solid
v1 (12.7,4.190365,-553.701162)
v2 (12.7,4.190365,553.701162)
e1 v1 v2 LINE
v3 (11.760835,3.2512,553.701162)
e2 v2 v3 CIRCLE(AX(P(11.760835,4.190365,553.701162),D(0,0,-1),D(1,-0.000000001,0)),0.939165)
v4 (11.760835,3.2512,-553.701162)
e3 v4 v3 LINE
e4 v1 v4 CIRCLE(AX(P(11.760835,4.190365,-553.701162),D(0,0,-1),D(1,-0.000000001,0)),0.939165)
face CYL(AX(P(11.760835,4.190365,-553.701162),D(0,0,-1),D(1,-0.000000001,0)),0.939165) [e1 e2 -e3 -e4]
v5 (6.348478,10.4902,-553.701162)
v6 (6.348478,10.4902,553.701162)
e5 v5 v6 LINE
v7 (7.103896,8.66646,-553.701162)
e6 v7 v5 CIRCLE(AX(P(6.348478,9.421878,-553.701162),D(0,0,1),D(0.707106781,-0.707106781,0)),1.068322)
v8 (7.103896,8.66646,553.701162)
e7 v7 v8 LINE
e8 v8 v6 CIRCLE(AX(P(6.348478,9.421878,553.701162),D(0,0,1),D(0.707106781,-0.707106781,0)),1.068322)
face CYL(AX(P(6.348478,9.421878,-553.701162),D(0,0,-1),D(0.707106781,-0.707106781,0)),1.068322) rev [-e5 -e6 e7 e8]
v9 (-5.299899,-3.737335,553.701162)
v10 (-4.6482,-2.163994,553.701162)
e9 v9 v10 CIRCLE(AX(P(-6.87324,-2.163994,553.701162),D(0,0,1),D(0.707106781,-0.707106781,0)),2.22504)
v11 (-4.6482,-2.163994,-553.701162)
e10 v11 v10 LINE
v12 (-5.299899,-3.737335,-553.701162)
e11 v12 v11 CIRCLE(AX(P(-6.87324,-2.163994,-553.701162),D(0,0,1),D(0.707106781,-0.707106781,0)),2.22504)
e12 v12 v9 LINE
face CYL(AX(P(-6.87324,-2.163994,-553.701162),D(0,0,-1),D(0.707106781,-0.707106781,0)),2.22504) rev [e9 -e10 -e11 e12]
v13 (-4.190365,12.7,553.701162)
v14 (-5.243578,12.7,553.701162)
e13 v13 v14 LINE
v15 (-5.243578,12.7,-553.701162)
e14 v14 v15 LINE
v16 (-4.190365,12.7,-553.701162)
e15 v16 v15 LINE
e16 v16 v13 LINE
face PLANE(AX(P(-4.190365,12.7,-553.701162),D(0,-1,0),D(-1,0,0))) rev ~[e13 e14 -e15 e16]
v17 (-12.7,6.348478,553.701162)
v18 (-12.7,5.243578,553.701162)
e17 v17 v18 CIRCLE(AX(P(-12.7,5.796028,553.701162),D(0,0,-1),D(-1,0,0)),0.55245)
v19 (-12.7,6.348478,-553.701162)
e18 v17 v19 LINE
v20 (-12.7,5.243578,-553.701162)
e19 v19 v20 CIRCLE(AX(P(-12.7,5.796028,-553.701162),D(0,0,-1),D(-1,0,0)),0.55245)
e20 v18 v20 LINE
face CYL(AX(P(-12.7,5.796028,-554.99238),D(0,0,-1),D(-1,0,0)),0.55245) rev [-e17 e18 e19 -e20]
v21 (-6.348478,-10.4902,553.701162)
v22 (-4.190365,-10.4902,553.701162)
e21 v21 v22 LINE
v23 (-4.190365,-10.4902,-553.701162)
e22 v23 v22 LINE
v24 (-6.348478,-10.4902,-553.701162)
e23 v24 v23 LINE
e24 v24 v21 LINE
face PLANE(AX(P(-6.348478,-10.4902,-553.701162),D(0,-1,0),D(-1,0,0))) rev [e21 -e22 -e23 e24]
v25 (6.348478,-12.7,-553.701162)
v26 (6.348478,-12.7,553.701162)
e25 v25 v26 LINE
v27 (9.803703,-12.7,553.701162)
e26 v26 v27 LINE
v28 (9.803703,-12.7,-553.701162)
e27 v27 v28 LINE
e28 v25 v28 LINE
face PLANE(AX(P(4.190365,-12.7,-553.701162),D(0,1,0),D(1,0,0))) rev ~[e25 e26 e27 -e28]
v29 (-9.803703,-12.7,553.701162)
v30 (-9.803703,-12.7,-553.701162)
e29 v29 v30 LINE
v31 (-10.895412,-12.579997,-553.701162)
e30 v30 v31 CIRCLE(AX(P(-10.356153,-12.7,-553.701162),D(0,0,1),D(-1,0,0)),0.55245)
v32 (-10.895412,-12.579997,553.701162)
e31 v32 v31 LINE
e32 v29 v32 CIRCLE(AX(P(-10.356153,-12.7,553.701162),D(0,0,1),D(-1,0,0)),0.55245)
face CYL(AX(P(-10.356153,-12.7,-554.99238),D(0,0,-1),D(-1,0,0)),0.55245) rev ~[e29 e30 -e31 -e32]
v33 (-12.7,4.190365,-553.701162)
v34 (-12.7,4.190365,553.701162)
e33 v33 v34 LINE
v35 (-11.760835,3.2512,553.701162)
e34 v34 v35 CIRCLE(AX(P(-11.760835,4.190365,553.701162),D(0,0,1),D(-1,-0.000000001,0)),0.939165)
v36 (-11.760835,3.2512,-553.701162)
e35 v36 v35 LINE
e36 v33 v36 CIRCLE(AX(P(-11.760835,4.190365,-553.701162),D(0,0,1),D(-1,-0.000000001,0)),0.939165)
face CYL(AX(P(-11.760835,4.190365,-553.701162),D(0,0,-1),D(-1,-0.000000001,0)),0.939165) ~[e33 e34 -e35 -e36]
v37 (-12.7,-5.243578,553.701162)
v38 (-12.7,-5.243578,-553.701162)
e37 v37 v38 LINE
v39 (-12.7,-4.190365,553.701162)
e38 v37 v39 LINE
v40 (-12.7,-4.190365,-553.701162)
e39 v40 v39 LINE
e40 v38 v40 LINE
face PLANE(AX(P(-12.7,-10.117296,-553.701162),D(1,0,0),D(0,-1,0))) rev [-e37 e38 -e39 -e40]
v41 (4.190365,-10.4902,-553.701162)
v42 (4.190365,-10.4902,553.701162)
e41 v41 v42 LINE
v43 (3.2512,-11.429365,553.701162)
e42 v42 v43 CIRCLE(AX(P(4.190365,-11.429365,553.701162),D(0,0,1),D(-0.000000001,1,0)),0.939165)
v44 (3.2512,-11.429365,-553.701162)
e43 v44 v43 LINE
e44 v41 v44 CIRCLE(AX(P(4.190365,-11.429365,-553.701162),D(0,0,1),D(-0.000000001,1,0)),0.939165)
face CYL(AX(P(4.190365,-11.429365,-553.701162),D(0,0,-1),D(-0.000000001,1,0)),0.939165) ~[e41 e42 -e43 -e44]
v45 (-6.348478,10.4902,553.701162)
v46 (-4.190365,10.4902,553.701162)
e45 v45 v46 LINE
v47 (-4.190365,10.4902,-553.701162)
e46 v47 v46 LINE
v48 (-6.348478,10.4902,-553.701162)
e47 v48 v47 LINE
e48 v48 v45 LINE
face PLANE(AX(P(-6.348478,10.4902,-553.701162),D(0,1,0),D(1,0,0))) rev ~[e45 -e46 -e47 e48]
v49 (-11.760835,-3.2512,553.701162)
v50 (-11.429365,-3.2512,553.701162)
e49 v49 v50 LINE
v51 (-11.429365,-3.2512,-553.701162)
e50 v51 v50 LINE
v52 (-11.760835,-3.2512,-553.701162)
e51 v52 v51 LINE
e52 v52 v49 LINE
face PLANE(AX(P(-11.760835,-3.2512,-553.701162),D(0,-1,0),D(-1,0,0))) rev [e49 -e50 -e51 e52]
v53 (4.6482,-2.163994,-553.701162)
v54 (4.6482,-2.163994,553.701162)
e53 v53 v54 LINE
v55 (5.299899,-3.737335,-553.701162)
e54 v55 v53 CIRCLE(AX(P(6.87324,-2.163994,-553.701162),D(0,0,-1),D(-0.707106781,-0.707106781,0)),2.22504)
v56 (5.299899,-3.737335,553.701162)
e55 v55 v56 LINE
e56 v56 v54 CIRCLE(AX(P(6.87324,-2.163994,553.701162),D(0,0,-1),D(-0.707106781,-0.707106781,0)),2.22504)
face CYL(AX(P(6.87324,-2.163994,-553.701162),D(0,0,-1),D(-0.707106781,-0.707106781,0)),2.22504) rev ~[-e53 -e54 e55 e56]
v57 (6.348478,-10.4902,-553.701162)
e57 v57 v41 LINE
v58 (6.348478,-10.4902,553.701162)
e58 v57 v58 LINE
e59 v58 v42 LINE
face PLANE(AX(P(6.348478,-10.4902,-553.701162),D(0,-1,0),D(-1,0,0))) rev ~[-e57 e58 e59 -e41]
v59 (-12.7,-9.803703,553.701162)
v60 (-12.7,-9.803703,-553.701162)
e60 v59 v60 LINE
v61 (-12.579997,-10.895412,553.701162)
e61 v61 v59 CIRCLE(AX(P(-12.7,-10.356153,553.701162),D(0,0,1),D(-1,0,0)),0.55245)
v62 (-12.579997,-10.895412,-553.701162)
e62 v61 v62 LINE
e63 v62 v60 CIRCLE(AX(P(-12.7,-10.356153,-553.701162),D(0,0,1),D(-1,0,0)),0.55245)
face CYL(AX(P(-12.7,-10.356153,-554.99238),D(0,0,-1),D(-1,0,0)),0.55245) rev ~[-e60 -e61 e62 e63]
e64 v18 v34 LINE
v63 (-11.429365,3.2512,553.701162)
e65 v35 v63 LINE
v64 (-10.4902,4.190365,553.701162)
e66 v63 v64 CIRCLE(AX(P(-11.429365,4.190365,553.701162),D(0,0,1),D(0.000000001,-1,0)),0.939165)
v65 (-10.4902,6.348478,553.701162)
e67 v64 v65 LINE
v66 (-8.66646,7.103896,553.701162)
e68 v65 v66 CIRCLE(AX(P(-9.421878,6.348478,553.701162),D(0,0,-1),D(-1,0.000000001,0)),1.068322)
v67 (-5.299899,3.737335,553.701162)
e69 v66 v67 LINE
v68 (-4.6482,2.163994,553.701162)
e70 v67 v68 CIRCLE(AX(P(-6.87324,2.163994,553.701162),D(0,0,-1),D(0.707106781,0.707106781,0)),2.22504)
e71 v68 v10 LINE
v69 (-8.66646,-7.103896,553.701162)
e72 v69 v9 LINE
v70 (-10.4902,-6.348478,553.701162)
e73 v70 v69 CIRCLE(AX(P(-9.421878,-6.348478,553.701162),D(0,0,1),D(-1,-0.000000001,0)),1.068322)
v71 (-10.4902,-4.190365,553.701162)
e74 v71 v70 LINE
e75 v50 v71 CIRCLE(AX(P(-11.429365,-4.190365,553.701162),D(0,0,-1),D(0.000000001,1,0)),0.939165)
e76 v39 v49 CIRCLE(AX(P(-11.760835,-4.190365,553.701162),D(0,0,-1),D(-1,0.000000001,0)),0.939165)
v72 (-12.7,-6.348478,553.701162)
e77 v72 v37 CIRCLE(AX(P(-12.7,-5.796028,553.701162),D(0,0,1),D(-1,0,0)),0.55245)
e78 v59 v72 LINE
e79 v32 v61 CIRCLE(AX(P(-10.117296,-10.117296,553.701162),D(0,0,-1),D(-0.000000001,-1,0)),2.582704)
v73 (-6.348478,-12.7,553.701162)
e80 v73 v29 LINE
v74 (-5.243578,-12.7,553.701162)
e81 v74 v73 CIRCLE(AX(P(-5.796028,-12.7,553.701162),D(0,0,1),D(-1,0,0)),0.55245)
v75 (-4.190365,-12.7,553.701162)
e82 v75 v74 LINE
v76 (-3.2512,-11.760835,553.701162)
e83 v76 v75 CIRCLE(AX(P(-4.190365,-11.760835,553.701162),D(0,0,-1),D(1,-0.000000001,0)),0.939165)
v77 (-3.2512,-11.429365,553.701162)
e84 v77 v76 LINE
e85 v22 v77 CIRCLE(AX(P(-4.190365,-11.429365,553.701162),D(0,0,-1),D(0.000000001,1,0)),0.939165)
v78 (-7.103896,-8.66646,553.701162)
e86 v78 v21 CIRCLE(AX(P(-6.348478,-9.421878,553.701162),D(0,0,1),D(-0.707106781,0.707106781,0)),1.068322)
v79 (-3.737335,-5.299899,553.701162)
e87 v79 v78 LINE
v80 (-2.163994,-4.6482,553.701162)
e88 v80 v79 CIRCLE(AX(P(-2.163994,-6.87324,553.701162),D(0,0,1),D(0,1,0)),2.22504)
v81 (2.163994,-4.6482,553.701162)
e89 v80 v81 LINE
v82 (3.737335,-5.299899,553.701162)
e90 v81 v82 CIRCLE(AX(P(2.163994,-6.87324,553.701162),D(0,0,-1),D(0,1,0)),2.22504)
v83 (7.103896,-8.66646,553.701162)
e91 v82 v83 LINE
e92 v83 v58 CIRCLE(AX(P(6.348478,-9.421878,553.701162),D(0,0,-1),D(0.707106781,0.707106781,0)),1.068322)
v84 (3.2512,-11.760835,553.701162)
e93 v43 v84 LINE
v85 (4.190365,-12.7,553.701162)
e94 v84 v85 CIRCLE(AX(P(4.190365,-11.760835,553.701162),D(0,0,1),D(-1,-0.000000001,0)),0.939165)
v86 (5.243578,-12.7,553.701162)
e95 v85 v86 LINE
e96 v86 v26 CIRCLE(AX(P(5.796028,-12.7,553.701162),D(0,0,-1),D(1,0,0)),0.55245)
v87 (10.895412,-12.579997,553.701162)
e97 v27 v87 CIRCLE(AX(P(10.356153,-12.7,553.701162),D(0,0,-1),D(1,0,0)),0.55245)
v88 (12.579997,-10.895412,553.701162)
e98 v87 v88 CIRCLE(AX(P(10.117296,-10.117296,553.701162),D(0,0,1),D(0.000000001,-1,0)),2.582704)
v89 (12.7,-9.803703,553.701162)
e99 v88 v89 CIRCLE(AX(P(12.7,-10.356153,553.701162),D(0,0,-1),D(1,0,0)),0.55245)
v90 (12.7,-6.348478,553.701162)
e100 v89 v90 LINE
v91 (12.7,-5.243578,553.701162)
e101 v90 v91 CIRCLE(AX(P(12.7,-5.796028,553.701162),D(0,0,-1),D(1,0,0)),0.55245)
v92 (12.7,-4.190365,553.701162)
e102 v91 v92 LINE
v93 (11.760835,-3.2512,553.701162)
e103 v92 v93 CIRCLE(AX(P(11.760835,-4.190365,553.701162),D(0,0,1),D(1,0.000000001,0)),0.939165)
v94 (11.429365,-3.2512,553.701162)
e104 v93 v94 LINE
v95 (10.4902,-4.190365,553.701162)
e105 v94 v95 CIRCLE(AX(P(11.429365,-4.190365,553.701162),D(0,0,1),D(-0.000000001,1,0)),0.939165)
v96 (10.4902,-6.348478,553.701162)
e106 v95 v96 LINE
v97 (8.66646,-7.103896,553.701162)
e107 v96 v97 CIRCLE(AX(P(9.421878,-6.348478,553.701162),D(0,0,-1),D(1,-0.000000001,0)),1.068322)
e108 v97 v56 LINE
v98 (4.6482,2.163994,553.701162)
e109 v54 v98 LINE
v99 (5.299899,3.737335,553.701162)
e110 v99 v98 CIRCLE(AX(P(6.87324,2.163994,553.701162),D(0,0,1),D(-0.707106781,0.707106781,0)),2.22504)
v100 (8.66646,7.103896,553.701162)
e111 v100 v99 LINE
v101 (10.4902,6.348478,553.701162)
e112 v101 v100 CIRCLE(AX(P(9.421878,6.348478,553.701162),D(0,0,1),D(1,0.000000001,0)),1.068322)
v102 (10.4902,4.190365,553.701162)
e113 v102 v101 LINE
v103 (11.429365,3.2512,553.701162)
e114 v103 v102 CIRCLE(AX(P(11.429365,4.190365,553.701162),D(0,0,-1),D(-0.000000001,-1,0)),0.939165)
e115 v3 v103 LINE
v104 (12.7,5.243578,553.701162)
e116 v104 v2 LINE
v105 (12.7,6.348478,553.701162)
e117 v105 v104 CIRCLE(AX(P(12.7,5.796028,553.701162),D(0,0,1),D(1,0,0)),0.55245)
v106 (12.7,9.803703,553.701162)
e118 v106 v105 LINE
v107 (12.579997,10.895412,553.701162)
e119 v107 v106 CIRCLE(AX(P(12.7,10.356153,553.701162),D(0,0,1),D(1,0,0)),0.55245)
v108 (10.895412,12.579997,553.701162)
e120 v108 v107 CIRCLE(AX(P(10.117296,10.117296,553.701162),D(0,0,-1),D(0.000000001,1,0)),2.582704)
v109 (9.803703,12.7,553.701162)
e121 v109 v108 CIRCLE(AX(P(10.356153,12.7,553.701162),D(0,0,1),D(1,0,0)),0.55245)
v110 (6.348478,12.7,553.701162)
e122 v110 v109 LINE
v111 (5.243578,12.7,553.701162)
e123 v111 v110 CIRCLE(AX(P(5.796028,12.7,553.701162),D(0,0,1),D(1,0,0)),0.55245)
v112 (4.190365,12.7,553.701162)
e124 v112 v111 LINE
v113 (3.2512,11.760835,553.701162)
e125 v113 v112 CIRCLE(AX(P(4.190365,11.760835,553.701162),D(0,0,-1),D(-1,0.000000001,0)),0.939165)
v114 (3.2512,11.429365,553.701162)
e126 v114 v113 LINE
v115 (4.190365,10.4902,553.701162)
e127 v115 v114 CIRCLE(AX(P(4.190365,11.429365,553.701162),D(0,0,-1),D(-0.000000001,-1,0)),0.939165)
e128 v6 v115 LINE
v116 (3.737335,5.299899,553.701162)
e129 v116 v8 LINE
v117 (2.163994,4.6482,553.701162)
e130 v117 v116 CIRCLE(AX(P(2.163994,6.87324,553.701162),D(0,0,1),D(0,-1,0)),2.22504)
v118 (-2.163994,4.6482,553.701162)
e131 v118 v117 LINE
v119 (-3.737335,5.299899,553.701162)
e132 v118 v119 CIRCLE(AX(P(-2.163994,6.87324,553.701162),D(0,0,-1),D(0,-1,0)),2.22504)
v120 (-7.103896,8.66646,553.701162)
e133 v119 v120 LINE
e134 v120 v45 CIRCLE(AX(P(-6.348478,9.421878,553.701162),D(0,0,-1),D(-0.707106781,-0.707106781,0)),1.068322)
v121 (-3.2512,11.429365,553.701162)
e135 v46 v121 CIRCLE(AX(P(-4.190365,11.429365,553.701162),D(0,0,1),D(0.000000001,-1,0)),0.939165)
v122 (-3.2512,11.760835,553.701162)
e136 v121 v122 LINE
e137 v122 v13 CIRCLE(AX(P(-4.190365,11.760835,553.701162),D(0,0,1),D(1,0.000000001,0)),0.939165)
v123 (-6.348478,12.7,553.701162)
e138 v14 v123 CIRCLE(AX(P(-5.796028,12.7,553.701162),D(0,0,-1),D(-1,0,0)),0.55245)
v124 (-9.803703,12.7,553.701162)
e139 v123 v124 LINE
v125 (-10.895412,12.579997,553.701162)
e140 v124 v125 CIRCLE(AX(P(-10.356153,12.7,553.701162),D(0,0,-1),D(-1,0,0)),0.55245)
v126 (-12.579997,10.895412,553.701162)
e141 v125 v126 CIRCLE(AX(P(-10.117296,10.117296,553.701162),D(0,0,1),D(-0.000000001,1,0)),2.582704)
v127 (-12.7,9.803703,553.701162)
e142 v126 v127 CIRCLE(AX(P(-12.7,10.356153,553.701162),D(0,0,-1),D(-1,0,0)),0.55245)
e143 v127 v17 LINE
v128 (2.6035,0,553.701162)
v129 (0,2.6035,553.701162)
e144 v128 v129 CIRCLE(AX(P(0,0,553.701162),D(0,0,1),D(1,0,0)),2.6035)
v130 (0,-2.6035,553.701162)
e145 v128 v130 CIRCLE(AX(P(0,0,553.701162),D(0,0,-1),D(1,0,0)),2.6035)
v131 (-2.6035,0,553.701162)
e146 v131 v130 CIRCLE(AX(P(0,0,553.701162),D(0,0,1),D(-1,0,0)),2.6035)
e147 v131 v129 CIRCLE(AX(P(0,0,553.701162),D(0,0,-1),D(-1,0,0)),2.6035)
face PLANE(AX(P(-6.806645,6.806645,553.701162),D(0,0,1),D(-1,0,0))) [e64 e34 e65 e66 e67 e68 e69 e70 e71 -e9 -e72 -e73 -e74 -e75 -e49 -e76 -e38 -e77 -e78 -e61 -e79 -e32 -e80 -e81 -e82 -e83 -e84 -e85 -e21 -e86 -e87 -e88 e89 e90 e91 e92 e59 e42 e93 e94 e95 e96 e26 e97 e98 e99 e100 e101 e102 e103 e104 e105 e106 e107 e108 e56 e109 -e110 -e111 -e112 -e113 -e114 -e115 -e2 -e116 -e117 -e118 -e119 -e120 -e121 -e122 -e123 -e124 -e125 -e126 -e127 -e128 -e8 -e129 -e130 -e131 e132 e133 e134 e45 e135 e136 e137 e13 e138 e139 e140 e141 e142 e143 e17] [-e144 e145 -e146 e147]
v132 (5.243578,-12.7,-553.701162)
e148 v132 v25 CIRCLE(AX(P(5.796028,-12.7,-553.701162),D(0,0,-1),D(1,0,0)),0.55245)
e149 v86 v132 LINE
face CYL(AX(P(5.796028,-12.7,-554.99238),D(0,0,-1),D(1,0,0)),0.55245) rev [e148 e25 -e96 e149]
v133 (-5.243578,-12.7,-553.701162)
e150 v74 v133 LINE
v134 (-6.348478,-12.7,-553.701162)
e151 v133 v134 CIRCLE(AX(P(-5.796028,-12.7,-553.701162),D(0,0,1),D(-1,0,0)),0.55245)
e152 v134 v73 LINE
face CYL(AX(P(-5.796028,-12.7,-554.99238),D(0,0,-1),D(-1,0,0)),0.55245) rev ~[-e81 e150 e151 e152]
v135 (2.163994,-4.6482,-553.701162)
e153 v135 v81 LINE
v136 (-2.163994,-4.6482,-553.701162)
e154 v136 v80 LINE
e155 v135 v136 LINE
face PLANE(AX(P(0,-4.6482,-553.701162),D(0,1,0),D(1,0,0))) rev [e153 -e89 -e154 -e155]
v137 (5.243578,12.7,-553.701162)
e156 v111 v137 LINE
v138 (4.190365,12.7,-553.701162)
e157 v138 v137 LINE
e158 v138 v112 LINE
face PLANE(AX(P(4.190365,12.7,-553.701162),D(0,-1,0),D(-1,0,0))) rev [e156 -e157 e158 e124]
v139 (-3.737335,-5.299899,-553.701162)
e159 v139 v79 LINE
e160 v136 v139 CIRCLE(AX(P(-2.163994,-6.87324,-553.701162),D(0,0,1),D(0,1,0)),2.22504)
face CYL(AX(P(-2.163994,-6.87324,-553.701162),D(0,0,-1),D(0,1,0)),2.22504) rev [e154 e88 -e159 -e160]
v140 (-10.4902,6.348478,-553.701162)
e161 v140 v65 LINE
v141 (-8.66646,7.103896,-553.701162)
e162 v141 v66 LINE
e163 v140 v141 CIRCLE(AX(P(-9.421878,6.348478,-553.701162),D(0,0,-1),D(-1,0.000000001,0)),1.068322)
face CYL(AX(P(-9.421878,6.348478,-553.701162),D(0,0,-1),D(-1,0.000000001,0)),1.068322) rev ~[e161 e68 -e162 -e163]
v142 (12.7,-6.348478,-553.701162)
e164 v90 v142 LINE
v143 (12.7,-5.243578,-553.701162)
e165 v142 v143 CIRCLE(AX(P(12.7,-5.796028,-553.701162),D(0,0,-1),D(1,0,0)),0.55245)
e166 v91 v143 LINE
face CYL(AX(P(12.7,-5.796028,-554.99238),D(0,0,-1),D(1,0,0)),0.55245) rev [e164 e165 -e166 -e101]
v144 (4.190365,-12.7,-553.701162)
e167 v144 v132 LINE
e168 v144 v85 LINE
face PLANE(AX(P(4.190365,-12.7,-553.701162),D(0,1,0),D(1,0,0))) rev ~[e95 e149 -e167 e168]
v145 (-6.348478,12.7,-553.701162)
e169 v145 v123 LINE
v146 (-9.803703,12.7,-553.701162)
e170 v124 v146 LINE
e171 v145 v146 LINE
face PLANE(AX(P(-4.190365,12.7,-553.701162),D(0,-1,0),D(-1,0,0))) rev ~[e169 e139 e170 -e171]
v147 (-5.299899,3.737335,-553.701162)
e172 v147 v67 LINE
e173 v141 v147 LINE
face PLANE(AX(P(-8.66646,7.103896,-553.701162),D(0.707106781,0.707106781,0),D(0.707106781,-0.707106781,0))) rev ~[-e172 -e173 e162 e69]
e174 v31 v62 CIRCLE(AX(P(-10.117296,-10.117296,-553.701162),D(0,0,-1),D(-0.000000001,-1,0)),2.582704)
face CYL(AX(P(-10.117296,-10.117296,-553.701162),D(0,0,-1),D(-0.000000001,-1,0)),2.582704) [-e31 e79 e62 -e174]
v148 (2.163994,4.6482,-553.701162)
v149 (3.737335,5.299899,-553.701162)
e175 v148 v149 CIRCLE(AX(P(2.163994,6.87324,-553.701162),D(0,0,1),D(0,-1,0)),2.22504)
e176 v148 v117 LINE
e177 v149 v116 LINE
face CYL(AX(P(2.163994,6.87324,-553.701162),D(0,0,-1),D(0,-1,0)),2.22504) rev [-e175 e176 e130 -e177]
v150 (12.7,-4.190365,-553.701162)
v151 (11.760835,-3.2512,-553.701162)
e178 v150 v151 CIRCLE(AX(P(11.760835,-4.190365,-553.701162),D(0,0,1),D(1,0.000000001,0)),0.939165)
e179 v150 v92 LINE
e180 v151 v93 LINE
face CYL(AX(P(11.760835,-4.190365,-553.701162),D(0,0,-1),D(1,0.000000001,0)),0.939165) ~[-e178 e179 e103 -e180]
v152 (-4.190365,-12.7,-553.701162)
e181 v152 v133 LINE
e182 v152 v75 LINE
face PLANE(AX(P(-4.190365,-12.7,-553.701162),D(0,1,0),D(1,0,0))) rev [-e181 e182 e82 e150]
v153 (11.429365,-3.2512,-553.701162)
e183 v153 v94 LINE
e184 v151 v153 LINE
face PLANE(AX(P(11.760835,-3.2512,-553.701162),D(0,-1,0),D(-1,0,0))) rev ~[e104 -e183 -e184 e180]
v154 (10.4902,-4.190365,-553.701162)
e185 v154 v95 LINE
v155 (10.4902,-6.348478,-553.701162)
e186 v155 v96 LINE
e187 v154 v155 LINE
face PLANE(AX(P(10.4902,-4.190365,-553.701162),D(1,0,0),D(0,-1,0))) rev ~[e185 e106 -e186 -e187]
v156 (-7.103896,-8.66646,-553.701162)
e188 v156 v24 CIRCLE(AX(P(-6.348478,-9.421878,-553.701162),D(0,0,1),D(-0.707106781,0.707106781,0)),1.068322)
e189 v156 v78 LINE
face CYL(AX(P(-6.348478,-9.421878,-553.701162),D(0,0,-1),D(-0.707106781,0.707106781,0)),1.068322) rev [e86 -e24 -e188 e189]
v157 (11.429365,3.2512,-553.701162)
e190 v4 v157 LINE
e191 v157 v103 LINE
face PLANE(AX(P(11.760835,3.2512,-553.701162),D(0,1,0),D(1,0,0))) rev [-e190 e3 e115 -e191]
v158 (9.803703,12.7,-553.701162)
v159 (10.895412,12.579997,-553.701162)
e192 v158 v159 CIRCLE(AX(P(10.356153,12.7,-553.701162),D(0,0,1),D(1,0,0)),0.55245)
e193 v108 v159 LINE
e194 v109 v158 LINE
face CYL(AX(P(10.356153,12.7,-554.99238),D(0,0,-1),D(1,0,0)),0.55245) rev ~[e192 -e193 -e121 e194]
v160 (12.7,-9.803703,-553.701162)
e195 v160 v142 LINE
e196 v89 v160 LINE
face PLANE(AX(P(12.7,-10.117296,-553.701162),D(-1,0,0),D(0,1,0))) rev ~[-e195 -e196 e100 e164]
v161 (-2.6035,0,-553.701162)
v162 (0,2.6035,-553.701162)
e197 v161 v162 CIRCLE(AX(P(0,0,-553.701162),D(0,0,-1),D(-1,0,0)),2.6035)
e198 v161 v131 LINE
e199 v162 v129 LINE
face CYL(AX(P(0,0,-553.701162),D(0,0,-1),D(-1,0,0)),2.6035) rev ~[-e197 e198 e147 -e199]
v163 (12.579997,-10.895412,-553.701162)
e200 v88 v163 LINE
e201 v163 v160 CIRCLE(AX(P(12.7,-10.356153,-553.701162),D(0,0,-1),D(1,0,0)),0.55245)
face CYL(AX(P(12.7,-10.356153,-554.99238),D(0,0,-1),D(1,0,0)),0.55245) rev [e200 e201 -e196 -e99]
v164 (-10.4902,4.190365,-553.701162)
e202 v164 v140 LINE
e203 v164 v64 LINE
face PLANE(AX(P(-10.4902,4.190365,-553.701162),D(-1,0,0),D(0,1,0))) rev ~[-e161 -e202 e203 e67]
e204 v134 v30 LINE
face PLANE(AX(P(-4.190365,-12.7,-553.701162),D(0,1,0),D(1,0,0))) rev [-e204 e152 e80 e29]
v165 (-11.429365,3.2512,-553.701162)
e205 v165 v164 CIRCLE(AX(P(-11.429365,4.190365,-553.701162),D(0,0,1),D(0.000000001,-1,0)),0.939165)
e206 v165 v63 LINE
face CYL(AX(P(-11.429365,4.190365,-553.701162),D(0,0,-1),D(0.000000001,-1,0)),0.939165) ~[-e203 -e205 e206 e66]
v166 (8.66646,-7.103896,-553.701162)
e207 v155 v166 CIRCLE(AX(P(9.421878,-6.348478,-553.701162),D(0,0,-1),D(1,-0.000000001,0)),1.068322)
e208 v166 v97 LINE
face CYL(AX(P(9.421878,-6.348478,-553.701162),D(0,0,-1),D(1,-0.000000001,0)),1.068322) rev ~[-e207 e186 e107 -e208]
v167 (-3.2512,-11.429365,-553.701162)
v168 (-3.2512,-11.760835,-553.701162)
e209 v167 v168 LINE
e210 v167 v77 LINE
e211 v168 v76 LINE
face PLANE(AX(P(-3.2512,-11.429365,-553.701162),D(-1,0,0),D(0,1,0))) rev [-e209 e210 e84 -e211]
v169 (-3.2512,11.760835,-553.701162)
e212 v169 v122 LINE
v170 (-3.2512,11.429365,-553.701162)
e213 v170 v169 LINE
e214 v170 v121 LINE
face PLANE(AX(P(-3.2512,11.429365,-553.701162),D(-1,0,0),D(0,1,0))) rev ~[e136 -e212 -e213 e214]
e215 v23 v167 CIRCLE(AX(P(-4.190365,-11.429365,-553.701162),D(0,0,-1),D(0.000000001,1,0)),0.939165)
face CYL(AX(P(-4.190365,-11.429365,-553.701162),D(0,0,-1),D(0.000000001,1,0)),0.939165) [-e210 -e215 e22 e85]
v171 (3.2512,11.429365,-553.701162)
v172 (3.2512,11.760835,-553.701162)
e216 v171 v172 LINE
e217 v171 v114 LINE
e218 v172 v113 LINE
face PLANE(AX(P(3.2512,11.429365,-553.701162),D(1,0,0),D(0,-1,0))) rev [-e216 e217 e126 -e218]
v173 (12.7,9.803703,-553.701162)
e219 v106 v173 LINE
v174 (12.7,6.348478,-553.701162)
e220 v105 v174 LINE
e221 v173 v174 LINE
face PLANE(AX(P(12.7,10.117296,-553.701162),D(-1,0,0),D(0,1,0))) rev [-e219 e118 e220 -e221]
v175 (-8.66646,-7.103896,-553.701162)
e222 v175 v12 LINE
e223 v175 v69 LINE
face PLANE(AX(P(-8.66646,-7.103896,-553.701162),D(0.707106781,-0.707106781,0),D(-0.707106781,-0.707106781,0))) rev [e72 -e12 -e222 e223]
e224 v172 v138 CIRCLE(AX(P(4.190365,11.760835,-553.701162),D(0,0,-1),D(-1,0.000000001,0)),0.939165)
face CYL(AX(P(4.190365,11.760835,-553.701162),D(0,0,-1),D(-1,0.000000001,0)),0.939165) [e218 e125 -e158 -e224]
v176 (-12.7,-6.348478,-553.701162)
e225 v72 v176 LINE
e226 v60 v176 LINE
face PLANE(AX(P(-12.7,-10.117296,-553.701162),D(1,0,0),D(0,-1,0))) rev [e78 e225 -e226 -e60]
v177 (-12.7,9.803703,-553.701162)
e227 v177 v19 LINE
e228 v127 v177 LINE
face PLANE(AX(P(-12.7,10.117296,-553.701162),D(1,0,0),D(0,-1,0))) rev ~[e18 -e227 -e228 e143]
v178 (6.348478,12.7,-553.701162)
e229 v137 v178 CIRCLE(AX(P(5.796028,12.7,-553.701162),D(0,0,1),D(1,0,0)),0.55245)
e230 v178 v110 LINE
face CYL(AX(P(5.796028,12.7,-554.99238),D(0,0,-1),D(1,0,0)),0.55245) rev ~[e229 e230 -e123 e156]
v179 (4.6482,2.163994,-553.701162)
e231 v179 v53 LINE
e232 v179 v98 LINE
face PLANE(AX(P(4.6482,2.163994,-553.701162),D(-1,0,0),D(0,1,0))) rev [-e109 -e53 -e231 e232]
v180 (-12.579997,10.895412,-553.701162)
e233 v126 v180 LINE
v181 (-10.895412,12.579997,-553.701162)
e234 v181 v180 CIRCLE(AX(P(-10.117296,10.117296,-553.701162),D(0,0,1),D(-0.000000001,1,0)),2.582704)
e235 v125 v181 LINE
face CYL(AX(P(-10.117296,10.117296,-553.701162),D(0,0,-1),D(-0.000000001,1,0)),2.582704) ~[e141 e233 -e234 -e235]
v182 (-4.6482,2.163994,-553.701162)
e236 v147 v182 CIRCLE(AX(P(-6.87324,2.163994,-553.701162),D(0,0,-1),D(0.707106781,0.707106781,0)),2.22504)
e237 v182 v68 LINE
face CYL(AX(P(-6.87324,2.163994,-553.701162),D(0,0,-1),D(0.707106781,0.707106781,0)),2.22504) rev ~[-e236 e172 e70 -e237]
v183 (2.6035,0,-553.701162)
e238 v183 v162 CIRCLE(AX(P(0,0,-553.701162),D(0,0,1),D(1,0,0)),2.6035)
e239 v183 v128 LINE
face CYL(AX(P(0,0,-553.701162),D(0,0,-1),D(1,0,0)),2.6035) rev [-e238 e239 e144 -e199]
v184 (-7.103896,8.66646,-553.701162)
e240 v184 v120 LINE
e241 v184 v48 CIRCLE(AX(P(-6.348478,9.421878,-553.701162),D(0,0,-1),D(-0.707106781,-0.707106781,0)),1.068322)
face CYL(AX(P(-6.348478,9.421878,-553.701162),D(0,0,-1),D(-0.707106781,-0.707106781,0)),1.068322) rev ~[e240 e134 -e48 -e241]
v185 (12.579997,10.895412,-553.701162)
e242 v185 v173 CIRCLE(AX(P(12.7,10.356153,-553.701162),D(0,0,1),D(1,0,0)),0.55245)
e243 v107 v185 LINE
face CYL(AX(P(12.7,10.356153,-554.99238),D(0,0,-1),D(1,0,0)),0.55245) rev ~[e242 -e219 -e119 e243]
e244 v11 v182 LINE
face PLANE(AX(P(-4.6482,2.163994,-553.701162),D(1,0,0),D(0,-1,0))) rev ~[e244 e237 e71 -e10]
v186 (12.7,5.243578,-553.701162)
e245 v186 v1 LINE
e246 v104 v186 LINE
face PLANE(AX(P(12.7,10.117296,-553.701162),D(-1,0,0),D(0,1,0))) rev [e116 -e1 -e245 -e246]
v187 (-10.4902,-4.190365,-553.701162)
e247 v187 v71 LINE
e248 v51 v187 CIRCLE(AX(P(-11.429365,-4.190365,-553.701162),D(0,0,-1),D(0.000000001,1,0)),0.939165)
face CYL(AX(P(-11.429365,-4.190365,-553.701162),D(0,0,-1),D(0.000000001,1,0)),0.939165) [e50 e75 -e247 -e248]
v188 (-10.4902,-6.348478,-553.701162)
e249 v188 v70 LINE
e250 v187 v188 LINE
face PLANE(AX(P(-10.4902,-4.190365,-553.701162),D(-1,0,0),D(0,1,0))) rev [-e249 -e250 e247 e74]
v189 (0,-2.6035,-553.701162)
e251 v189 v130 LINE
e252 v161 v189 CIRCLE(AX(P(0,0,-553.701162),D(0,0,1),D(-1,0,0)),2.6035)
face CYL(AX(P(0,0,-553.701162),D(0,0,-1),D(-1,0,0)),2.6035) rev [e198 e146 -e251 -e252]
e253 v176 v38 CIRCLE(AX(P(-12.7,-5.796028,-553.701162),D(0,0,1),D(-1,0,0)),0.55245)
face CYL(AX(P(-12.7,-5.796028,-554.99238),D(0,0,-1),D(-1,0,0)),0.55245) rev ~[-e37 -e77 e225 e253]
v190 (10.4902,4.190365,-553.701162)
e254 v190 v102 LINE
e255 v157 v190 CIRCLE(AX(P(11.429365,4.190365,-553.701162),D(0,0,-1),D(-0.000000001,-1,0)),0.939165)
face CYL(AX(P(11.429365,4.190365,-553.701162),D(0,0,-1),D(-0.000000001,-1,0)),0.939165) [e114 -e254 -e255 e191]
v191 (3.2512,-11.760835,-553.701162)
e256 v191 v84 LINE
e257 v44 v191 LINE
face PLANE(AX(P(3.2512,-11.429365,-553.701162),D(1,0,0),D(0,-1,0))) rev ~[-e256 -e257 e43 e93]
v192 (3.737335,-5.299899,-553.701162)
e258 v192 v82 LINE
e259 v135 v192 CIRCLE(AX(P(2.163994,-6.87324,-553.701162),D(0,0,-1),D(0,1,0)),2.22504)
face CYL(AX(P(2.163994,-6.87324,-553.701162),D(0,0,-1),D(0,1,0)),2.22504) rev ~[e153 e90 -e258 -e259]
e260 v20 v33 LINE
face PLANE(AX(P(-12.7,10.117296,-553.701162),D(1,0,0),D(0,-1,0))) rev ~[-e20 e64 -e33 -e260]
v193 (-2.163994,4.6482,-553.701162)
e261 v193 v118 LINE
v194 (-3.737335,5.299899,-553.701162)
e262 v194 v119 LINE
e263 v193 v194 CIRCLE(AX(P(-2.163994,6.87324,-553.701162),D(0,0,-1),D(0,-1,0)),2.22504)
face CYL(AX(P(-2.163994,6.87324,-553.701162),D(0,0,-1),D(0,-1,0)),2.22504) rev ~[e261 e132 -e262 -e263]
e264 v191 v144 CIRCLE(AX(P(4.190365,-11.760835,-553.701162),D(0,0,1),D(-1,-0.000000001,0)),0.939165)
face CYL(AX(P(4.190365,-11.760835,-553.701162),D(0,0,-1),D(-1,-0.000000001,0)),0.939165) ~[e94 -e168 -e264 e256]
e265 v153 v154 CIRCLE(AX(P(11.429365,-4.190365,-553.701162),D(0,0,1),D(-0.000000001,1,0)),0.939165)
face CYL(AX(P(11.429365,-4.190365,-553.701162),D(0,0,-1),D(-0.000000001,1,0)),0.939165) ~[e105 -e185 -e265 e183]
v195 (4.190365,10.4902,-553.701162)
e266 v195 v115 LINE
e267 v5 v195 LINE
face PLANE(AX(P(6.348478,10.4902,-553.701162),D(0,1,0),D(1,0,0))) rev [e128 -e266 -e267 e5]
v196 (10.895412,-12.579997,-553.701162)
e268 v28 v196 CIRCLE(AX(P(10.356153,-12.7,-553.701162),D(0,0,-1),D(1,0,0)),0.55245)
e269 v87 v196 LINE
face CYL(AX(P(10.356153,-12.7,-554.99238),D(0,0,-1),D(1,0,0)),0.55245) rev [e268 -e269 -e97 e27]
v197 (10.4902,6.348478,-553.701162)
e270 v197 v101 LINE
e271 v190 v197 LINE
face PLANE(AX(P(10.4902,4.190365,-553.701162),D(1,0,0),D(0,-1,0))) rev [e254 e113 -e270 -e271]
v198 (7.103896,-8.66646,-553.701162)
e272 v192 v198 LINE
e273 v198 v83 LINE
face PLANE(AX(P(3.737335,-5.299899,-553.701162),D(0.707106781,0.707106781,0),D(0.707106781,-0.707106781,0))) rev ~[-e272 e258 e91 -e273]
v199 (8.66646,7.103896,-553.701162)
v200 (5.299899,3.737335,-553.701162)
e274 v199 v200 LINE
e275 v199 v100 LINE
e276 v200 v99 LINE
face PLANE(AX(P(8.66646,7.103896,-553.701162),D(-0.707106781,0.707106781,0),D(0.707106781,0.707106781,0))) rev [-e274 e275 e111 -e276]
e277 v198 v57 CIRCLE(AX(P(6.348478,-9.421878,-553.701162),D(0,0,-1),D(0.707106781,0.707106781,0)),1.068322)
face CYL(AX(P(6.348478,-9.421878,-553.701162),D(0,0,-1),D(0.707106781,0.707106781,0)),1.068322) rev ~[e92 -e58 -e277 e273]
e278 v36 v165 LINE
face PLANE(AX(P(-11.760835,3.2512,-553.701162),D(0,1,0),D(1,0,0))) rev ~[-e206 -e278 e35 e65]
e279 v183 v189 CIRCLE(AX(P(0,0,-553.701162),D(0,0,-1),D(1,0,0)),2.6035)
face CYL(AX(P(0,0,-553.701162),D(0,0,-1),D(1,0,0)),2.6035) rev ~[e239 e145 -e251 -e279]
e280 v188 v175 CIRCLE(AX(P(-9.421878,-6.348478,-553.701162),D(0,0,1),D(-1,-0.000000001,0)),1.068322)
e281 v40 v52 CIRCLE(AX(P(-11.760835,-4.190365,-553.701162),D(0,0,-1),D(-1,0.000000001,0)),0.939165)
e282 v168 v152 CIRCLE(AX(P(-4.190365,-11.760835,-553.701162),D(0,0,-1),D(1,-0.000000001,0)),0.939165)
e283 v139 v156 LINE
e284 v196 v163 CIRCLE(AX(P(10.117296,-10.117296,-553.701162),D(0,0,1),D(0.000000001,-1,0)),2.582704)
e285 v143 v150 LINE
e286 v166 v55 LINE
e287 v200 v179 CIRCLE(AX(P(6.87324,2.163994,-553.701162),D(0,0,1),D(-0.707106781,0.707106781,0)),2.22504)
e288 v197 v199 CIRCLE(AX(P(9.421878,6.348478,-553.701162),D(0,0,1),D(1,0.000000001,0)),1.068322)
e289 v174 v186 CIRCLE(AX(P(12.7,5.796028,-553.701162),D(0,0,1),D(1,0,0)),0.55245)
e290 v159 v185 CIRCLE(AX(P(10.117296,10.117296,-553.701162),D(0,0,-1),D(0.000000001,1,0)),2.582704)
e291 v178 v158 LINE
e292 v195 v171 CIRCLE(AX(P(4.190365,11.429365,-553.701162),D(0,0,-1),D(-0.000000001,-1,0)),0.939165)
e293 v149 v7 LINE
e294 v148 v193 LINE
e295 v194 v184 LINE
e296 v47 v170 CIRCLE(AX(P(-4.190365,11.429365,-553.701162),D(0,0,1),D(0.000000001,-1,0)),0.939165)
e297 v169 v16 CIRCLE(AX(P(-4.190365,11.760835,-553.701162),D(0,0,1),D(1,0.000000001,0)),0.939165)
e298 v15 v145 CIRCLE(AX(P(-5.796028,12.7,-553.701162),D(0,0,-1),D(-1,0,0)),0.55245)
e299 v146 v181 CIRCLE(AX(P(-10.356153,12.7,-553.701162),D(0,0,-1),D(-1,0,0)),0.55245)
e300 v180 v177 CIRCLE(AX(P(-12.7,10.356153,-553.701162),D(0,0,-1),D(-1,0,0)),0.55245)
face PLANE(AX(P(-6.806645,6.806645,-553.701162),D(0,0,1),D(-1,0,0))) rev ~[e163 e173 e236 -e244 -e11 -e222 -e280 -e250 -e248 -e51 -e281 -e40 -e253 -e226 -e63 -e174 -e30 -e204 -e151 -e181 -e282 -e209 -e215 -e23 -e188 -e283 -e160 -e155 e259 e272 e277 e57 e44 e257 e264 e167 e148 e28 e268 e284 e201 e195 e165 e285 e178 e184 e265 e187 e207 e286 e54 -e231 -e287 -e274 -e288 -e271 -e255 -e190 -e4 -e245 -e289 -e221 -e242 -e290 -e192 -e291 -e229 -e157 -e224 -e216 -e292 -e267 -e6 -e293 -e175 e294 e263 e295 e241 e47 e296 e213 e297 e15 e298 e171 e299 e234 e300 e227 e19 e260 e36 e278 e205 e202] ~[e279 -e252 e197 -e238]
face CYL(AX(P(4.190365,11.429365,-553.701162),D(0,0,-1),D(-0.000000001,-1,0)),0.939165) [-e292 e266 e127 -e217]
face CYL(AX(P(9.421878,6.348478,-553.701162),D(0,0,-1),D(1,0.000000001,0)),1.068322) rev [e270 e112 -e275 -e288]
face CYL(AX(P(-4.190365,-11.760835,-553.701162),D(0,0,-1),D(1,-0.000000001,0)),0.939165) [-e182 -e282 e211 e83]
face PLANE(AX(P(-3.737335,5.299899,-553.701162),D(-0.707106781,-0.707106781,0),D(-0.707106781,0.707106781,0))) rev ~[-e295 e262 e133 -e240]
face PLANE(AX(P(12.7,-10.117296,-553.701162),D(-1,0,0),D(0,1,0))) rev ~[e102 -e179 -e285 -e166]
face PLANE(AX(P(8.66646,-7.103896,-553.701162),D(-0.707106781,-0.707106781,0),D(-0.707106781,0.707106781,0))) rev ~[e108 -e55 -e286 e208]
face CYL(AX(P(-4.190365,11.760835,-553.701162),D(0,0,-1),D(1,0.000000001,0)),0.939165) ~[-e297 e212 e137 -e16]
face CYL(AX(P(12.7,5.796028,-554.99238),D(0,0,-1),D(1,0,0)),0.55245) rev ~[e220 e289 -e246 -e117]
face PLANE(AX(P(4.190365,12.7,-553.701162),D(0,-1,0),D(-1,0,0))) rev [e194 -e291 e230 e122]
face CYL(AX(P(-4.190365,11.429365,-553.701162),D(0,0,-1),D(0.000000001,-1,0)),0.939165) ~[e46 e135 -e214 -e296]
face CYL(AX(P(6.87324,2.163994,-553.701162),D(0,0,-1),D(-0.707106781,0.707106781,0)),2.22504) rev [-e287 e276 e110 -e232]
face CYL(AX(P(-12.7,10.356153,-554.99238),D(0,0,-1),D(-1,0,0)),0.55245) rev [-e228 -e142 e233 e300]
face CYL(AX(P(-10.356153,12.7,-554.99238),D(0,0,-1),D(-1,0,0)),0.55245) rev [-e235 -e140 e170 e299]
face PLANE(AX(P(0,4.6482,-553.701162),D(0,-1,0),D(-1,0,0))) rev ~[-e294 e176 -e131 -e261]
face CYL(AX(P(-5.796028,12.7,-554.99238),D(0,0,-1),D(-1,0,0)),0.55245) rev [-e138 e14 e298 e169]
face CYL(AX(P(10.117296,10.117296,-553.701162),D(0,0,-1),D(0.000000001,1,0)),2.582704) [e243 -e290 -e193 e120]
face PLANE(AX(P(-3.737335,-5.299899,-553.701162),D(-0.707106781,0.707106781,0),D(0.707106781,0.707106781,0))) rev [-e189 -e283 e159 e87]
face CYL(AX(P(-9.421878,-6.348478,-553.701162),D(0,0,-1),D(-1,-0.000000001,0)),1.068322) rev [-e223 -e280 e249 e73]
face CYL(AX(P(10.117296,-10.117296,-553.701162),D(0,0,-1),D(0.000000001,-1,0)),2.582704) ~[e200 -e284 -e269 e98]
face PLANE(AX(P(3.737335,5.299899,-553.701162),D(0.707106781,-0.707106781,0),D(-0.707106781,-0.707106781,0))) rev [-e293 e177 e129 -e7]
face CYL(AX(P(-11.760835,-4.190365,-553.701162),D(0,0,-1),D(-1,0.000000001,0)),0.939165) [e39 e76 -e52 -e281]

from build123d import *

# Parameters (mm, degrees)
BOSS_EXTRUDE1_START     = -553.701162
BOSS_EXTRUDE1_DEPTH     = 1107.402324
CUT_EXTRUDE1_DEPTH      = 554.992379731
CUT_EXTRUDE1_DEPTH_BACK = 554.992379731
SKETCH5_R               = 0.55245


with BuildPart() as part:
    # Sketch4 → Boss-Extrude1 (new body)
    with BuildSketch(Plane.XY.offset(BOSS_EXTRUDE1_START)):
        with BuildLine():
            Line((4.190365, -12.7), (10.11729625, -12.7))
            ThreePointArc((10.11729625, -12.7), (11.943543585, -11.943543585), (12.7, -10.11729625))
            Line((12.7, -10.11729625), (12.7, -4.190365))
            ThreePointArc((12.7, -4.190365), (12.42492494, -3.52627506), (11.760835, -3.2512))
            Line((11.760835, -3.2512), (11.429365, -3.2512))
            ThreePointArc((11.429365, -3.2512), (10.76527506, -3.52627506), (10.4902, -4.190365))
            Line((10.4902, -4.190365), (10.4902, -6.348478019))
            ThreePointArc((10.4902, -6.348478019), (9.830707141, -7.335478831), (8.666460301, -7.103895736))
            Line((8.666460301, -7.103895736), (5.299899128, -3.737334563))
            ThreePointArc((5.299899128, -3.737334563), (4.817571085, -3.015479634), (4.6482, -2.16399369))
            Line((4.6482, -2.16399369), (4.6482, 0))
            Line((4.6482, 0), (2.6035, 0))
            ThreePointArc((2.6035, 0), (1.840952505, -1.840952505), (0, -2.6035))
            Line((0, -2.6035), (0, -4.6482))
            Line((0, -4.6482), (2.16399369, -4.6482))
            ThreePointArc((2.16399369, -4.6482), (3.015479634, -4.817571085), (3.737334563, -5.299899128))
            Line((3.737334563, -5.299899128), (7.103895736, -8.666460301))
            ThreePointArc((7.103895736, -8.666460301), (7.335478831, -9.830707141), (6.348478019, -10.4902))
            Line((6.348478019, -10.4902), (4.190365, -10.4902))
            ThreePointArc((4.190365, -10.4902), (3.52627506, -10.76527506), (3.2512, -11.429365))
            Line((3.2512, -11.429365), (3.2512, -11.760835))
            ThreePointArc((3.2512, -11.760835), (3.52627506, -12.42492494), (4.190365, -12.7))
        make_face()
    extrude(amount=BOSS_EXTRUDE1_DEPTH)

    # Sketch5 → Cut-Extrude1 (cut, two sides: drawn at the far end of the back side and taken through both)
    with BuildSketch(Plane.XY.offset(-CUT_EXTRUDE1_DEPTH_BACK)):
        with Locations((10.356153152, -12.7)):
            Circle(SKETCH5_R)
        with Locations((5.796028019, -12.7)):
            Circle(SKETCH5_R)
        with Locations((12.7, -10.356153152)):
            Circle(SKETCH5_R)
        with Locations((12.7, -5.796028019)):
            Circle(SKETCH5_R)
    extrude(amount=CUT_EXTRUDE1_DEPTH + CUT_EXTRUDE1_DEPTH_BACK, mode=Mode.SUBTRACT)

    # Mirror1: part across plane


with BuildPart() as part_1:
    add(part.part)
    add(part.part.mirror(Plane(origin=(0, 0, 0), x_dir=(0, 0, 1), z_dir=(1, 0, 0))))

    # Mirror2: part across plane


with BuildPart() as part_2:
    add(part_1.part)
    add(part_1.part.mirror(Plane.ZX))


solid = part_2.part
